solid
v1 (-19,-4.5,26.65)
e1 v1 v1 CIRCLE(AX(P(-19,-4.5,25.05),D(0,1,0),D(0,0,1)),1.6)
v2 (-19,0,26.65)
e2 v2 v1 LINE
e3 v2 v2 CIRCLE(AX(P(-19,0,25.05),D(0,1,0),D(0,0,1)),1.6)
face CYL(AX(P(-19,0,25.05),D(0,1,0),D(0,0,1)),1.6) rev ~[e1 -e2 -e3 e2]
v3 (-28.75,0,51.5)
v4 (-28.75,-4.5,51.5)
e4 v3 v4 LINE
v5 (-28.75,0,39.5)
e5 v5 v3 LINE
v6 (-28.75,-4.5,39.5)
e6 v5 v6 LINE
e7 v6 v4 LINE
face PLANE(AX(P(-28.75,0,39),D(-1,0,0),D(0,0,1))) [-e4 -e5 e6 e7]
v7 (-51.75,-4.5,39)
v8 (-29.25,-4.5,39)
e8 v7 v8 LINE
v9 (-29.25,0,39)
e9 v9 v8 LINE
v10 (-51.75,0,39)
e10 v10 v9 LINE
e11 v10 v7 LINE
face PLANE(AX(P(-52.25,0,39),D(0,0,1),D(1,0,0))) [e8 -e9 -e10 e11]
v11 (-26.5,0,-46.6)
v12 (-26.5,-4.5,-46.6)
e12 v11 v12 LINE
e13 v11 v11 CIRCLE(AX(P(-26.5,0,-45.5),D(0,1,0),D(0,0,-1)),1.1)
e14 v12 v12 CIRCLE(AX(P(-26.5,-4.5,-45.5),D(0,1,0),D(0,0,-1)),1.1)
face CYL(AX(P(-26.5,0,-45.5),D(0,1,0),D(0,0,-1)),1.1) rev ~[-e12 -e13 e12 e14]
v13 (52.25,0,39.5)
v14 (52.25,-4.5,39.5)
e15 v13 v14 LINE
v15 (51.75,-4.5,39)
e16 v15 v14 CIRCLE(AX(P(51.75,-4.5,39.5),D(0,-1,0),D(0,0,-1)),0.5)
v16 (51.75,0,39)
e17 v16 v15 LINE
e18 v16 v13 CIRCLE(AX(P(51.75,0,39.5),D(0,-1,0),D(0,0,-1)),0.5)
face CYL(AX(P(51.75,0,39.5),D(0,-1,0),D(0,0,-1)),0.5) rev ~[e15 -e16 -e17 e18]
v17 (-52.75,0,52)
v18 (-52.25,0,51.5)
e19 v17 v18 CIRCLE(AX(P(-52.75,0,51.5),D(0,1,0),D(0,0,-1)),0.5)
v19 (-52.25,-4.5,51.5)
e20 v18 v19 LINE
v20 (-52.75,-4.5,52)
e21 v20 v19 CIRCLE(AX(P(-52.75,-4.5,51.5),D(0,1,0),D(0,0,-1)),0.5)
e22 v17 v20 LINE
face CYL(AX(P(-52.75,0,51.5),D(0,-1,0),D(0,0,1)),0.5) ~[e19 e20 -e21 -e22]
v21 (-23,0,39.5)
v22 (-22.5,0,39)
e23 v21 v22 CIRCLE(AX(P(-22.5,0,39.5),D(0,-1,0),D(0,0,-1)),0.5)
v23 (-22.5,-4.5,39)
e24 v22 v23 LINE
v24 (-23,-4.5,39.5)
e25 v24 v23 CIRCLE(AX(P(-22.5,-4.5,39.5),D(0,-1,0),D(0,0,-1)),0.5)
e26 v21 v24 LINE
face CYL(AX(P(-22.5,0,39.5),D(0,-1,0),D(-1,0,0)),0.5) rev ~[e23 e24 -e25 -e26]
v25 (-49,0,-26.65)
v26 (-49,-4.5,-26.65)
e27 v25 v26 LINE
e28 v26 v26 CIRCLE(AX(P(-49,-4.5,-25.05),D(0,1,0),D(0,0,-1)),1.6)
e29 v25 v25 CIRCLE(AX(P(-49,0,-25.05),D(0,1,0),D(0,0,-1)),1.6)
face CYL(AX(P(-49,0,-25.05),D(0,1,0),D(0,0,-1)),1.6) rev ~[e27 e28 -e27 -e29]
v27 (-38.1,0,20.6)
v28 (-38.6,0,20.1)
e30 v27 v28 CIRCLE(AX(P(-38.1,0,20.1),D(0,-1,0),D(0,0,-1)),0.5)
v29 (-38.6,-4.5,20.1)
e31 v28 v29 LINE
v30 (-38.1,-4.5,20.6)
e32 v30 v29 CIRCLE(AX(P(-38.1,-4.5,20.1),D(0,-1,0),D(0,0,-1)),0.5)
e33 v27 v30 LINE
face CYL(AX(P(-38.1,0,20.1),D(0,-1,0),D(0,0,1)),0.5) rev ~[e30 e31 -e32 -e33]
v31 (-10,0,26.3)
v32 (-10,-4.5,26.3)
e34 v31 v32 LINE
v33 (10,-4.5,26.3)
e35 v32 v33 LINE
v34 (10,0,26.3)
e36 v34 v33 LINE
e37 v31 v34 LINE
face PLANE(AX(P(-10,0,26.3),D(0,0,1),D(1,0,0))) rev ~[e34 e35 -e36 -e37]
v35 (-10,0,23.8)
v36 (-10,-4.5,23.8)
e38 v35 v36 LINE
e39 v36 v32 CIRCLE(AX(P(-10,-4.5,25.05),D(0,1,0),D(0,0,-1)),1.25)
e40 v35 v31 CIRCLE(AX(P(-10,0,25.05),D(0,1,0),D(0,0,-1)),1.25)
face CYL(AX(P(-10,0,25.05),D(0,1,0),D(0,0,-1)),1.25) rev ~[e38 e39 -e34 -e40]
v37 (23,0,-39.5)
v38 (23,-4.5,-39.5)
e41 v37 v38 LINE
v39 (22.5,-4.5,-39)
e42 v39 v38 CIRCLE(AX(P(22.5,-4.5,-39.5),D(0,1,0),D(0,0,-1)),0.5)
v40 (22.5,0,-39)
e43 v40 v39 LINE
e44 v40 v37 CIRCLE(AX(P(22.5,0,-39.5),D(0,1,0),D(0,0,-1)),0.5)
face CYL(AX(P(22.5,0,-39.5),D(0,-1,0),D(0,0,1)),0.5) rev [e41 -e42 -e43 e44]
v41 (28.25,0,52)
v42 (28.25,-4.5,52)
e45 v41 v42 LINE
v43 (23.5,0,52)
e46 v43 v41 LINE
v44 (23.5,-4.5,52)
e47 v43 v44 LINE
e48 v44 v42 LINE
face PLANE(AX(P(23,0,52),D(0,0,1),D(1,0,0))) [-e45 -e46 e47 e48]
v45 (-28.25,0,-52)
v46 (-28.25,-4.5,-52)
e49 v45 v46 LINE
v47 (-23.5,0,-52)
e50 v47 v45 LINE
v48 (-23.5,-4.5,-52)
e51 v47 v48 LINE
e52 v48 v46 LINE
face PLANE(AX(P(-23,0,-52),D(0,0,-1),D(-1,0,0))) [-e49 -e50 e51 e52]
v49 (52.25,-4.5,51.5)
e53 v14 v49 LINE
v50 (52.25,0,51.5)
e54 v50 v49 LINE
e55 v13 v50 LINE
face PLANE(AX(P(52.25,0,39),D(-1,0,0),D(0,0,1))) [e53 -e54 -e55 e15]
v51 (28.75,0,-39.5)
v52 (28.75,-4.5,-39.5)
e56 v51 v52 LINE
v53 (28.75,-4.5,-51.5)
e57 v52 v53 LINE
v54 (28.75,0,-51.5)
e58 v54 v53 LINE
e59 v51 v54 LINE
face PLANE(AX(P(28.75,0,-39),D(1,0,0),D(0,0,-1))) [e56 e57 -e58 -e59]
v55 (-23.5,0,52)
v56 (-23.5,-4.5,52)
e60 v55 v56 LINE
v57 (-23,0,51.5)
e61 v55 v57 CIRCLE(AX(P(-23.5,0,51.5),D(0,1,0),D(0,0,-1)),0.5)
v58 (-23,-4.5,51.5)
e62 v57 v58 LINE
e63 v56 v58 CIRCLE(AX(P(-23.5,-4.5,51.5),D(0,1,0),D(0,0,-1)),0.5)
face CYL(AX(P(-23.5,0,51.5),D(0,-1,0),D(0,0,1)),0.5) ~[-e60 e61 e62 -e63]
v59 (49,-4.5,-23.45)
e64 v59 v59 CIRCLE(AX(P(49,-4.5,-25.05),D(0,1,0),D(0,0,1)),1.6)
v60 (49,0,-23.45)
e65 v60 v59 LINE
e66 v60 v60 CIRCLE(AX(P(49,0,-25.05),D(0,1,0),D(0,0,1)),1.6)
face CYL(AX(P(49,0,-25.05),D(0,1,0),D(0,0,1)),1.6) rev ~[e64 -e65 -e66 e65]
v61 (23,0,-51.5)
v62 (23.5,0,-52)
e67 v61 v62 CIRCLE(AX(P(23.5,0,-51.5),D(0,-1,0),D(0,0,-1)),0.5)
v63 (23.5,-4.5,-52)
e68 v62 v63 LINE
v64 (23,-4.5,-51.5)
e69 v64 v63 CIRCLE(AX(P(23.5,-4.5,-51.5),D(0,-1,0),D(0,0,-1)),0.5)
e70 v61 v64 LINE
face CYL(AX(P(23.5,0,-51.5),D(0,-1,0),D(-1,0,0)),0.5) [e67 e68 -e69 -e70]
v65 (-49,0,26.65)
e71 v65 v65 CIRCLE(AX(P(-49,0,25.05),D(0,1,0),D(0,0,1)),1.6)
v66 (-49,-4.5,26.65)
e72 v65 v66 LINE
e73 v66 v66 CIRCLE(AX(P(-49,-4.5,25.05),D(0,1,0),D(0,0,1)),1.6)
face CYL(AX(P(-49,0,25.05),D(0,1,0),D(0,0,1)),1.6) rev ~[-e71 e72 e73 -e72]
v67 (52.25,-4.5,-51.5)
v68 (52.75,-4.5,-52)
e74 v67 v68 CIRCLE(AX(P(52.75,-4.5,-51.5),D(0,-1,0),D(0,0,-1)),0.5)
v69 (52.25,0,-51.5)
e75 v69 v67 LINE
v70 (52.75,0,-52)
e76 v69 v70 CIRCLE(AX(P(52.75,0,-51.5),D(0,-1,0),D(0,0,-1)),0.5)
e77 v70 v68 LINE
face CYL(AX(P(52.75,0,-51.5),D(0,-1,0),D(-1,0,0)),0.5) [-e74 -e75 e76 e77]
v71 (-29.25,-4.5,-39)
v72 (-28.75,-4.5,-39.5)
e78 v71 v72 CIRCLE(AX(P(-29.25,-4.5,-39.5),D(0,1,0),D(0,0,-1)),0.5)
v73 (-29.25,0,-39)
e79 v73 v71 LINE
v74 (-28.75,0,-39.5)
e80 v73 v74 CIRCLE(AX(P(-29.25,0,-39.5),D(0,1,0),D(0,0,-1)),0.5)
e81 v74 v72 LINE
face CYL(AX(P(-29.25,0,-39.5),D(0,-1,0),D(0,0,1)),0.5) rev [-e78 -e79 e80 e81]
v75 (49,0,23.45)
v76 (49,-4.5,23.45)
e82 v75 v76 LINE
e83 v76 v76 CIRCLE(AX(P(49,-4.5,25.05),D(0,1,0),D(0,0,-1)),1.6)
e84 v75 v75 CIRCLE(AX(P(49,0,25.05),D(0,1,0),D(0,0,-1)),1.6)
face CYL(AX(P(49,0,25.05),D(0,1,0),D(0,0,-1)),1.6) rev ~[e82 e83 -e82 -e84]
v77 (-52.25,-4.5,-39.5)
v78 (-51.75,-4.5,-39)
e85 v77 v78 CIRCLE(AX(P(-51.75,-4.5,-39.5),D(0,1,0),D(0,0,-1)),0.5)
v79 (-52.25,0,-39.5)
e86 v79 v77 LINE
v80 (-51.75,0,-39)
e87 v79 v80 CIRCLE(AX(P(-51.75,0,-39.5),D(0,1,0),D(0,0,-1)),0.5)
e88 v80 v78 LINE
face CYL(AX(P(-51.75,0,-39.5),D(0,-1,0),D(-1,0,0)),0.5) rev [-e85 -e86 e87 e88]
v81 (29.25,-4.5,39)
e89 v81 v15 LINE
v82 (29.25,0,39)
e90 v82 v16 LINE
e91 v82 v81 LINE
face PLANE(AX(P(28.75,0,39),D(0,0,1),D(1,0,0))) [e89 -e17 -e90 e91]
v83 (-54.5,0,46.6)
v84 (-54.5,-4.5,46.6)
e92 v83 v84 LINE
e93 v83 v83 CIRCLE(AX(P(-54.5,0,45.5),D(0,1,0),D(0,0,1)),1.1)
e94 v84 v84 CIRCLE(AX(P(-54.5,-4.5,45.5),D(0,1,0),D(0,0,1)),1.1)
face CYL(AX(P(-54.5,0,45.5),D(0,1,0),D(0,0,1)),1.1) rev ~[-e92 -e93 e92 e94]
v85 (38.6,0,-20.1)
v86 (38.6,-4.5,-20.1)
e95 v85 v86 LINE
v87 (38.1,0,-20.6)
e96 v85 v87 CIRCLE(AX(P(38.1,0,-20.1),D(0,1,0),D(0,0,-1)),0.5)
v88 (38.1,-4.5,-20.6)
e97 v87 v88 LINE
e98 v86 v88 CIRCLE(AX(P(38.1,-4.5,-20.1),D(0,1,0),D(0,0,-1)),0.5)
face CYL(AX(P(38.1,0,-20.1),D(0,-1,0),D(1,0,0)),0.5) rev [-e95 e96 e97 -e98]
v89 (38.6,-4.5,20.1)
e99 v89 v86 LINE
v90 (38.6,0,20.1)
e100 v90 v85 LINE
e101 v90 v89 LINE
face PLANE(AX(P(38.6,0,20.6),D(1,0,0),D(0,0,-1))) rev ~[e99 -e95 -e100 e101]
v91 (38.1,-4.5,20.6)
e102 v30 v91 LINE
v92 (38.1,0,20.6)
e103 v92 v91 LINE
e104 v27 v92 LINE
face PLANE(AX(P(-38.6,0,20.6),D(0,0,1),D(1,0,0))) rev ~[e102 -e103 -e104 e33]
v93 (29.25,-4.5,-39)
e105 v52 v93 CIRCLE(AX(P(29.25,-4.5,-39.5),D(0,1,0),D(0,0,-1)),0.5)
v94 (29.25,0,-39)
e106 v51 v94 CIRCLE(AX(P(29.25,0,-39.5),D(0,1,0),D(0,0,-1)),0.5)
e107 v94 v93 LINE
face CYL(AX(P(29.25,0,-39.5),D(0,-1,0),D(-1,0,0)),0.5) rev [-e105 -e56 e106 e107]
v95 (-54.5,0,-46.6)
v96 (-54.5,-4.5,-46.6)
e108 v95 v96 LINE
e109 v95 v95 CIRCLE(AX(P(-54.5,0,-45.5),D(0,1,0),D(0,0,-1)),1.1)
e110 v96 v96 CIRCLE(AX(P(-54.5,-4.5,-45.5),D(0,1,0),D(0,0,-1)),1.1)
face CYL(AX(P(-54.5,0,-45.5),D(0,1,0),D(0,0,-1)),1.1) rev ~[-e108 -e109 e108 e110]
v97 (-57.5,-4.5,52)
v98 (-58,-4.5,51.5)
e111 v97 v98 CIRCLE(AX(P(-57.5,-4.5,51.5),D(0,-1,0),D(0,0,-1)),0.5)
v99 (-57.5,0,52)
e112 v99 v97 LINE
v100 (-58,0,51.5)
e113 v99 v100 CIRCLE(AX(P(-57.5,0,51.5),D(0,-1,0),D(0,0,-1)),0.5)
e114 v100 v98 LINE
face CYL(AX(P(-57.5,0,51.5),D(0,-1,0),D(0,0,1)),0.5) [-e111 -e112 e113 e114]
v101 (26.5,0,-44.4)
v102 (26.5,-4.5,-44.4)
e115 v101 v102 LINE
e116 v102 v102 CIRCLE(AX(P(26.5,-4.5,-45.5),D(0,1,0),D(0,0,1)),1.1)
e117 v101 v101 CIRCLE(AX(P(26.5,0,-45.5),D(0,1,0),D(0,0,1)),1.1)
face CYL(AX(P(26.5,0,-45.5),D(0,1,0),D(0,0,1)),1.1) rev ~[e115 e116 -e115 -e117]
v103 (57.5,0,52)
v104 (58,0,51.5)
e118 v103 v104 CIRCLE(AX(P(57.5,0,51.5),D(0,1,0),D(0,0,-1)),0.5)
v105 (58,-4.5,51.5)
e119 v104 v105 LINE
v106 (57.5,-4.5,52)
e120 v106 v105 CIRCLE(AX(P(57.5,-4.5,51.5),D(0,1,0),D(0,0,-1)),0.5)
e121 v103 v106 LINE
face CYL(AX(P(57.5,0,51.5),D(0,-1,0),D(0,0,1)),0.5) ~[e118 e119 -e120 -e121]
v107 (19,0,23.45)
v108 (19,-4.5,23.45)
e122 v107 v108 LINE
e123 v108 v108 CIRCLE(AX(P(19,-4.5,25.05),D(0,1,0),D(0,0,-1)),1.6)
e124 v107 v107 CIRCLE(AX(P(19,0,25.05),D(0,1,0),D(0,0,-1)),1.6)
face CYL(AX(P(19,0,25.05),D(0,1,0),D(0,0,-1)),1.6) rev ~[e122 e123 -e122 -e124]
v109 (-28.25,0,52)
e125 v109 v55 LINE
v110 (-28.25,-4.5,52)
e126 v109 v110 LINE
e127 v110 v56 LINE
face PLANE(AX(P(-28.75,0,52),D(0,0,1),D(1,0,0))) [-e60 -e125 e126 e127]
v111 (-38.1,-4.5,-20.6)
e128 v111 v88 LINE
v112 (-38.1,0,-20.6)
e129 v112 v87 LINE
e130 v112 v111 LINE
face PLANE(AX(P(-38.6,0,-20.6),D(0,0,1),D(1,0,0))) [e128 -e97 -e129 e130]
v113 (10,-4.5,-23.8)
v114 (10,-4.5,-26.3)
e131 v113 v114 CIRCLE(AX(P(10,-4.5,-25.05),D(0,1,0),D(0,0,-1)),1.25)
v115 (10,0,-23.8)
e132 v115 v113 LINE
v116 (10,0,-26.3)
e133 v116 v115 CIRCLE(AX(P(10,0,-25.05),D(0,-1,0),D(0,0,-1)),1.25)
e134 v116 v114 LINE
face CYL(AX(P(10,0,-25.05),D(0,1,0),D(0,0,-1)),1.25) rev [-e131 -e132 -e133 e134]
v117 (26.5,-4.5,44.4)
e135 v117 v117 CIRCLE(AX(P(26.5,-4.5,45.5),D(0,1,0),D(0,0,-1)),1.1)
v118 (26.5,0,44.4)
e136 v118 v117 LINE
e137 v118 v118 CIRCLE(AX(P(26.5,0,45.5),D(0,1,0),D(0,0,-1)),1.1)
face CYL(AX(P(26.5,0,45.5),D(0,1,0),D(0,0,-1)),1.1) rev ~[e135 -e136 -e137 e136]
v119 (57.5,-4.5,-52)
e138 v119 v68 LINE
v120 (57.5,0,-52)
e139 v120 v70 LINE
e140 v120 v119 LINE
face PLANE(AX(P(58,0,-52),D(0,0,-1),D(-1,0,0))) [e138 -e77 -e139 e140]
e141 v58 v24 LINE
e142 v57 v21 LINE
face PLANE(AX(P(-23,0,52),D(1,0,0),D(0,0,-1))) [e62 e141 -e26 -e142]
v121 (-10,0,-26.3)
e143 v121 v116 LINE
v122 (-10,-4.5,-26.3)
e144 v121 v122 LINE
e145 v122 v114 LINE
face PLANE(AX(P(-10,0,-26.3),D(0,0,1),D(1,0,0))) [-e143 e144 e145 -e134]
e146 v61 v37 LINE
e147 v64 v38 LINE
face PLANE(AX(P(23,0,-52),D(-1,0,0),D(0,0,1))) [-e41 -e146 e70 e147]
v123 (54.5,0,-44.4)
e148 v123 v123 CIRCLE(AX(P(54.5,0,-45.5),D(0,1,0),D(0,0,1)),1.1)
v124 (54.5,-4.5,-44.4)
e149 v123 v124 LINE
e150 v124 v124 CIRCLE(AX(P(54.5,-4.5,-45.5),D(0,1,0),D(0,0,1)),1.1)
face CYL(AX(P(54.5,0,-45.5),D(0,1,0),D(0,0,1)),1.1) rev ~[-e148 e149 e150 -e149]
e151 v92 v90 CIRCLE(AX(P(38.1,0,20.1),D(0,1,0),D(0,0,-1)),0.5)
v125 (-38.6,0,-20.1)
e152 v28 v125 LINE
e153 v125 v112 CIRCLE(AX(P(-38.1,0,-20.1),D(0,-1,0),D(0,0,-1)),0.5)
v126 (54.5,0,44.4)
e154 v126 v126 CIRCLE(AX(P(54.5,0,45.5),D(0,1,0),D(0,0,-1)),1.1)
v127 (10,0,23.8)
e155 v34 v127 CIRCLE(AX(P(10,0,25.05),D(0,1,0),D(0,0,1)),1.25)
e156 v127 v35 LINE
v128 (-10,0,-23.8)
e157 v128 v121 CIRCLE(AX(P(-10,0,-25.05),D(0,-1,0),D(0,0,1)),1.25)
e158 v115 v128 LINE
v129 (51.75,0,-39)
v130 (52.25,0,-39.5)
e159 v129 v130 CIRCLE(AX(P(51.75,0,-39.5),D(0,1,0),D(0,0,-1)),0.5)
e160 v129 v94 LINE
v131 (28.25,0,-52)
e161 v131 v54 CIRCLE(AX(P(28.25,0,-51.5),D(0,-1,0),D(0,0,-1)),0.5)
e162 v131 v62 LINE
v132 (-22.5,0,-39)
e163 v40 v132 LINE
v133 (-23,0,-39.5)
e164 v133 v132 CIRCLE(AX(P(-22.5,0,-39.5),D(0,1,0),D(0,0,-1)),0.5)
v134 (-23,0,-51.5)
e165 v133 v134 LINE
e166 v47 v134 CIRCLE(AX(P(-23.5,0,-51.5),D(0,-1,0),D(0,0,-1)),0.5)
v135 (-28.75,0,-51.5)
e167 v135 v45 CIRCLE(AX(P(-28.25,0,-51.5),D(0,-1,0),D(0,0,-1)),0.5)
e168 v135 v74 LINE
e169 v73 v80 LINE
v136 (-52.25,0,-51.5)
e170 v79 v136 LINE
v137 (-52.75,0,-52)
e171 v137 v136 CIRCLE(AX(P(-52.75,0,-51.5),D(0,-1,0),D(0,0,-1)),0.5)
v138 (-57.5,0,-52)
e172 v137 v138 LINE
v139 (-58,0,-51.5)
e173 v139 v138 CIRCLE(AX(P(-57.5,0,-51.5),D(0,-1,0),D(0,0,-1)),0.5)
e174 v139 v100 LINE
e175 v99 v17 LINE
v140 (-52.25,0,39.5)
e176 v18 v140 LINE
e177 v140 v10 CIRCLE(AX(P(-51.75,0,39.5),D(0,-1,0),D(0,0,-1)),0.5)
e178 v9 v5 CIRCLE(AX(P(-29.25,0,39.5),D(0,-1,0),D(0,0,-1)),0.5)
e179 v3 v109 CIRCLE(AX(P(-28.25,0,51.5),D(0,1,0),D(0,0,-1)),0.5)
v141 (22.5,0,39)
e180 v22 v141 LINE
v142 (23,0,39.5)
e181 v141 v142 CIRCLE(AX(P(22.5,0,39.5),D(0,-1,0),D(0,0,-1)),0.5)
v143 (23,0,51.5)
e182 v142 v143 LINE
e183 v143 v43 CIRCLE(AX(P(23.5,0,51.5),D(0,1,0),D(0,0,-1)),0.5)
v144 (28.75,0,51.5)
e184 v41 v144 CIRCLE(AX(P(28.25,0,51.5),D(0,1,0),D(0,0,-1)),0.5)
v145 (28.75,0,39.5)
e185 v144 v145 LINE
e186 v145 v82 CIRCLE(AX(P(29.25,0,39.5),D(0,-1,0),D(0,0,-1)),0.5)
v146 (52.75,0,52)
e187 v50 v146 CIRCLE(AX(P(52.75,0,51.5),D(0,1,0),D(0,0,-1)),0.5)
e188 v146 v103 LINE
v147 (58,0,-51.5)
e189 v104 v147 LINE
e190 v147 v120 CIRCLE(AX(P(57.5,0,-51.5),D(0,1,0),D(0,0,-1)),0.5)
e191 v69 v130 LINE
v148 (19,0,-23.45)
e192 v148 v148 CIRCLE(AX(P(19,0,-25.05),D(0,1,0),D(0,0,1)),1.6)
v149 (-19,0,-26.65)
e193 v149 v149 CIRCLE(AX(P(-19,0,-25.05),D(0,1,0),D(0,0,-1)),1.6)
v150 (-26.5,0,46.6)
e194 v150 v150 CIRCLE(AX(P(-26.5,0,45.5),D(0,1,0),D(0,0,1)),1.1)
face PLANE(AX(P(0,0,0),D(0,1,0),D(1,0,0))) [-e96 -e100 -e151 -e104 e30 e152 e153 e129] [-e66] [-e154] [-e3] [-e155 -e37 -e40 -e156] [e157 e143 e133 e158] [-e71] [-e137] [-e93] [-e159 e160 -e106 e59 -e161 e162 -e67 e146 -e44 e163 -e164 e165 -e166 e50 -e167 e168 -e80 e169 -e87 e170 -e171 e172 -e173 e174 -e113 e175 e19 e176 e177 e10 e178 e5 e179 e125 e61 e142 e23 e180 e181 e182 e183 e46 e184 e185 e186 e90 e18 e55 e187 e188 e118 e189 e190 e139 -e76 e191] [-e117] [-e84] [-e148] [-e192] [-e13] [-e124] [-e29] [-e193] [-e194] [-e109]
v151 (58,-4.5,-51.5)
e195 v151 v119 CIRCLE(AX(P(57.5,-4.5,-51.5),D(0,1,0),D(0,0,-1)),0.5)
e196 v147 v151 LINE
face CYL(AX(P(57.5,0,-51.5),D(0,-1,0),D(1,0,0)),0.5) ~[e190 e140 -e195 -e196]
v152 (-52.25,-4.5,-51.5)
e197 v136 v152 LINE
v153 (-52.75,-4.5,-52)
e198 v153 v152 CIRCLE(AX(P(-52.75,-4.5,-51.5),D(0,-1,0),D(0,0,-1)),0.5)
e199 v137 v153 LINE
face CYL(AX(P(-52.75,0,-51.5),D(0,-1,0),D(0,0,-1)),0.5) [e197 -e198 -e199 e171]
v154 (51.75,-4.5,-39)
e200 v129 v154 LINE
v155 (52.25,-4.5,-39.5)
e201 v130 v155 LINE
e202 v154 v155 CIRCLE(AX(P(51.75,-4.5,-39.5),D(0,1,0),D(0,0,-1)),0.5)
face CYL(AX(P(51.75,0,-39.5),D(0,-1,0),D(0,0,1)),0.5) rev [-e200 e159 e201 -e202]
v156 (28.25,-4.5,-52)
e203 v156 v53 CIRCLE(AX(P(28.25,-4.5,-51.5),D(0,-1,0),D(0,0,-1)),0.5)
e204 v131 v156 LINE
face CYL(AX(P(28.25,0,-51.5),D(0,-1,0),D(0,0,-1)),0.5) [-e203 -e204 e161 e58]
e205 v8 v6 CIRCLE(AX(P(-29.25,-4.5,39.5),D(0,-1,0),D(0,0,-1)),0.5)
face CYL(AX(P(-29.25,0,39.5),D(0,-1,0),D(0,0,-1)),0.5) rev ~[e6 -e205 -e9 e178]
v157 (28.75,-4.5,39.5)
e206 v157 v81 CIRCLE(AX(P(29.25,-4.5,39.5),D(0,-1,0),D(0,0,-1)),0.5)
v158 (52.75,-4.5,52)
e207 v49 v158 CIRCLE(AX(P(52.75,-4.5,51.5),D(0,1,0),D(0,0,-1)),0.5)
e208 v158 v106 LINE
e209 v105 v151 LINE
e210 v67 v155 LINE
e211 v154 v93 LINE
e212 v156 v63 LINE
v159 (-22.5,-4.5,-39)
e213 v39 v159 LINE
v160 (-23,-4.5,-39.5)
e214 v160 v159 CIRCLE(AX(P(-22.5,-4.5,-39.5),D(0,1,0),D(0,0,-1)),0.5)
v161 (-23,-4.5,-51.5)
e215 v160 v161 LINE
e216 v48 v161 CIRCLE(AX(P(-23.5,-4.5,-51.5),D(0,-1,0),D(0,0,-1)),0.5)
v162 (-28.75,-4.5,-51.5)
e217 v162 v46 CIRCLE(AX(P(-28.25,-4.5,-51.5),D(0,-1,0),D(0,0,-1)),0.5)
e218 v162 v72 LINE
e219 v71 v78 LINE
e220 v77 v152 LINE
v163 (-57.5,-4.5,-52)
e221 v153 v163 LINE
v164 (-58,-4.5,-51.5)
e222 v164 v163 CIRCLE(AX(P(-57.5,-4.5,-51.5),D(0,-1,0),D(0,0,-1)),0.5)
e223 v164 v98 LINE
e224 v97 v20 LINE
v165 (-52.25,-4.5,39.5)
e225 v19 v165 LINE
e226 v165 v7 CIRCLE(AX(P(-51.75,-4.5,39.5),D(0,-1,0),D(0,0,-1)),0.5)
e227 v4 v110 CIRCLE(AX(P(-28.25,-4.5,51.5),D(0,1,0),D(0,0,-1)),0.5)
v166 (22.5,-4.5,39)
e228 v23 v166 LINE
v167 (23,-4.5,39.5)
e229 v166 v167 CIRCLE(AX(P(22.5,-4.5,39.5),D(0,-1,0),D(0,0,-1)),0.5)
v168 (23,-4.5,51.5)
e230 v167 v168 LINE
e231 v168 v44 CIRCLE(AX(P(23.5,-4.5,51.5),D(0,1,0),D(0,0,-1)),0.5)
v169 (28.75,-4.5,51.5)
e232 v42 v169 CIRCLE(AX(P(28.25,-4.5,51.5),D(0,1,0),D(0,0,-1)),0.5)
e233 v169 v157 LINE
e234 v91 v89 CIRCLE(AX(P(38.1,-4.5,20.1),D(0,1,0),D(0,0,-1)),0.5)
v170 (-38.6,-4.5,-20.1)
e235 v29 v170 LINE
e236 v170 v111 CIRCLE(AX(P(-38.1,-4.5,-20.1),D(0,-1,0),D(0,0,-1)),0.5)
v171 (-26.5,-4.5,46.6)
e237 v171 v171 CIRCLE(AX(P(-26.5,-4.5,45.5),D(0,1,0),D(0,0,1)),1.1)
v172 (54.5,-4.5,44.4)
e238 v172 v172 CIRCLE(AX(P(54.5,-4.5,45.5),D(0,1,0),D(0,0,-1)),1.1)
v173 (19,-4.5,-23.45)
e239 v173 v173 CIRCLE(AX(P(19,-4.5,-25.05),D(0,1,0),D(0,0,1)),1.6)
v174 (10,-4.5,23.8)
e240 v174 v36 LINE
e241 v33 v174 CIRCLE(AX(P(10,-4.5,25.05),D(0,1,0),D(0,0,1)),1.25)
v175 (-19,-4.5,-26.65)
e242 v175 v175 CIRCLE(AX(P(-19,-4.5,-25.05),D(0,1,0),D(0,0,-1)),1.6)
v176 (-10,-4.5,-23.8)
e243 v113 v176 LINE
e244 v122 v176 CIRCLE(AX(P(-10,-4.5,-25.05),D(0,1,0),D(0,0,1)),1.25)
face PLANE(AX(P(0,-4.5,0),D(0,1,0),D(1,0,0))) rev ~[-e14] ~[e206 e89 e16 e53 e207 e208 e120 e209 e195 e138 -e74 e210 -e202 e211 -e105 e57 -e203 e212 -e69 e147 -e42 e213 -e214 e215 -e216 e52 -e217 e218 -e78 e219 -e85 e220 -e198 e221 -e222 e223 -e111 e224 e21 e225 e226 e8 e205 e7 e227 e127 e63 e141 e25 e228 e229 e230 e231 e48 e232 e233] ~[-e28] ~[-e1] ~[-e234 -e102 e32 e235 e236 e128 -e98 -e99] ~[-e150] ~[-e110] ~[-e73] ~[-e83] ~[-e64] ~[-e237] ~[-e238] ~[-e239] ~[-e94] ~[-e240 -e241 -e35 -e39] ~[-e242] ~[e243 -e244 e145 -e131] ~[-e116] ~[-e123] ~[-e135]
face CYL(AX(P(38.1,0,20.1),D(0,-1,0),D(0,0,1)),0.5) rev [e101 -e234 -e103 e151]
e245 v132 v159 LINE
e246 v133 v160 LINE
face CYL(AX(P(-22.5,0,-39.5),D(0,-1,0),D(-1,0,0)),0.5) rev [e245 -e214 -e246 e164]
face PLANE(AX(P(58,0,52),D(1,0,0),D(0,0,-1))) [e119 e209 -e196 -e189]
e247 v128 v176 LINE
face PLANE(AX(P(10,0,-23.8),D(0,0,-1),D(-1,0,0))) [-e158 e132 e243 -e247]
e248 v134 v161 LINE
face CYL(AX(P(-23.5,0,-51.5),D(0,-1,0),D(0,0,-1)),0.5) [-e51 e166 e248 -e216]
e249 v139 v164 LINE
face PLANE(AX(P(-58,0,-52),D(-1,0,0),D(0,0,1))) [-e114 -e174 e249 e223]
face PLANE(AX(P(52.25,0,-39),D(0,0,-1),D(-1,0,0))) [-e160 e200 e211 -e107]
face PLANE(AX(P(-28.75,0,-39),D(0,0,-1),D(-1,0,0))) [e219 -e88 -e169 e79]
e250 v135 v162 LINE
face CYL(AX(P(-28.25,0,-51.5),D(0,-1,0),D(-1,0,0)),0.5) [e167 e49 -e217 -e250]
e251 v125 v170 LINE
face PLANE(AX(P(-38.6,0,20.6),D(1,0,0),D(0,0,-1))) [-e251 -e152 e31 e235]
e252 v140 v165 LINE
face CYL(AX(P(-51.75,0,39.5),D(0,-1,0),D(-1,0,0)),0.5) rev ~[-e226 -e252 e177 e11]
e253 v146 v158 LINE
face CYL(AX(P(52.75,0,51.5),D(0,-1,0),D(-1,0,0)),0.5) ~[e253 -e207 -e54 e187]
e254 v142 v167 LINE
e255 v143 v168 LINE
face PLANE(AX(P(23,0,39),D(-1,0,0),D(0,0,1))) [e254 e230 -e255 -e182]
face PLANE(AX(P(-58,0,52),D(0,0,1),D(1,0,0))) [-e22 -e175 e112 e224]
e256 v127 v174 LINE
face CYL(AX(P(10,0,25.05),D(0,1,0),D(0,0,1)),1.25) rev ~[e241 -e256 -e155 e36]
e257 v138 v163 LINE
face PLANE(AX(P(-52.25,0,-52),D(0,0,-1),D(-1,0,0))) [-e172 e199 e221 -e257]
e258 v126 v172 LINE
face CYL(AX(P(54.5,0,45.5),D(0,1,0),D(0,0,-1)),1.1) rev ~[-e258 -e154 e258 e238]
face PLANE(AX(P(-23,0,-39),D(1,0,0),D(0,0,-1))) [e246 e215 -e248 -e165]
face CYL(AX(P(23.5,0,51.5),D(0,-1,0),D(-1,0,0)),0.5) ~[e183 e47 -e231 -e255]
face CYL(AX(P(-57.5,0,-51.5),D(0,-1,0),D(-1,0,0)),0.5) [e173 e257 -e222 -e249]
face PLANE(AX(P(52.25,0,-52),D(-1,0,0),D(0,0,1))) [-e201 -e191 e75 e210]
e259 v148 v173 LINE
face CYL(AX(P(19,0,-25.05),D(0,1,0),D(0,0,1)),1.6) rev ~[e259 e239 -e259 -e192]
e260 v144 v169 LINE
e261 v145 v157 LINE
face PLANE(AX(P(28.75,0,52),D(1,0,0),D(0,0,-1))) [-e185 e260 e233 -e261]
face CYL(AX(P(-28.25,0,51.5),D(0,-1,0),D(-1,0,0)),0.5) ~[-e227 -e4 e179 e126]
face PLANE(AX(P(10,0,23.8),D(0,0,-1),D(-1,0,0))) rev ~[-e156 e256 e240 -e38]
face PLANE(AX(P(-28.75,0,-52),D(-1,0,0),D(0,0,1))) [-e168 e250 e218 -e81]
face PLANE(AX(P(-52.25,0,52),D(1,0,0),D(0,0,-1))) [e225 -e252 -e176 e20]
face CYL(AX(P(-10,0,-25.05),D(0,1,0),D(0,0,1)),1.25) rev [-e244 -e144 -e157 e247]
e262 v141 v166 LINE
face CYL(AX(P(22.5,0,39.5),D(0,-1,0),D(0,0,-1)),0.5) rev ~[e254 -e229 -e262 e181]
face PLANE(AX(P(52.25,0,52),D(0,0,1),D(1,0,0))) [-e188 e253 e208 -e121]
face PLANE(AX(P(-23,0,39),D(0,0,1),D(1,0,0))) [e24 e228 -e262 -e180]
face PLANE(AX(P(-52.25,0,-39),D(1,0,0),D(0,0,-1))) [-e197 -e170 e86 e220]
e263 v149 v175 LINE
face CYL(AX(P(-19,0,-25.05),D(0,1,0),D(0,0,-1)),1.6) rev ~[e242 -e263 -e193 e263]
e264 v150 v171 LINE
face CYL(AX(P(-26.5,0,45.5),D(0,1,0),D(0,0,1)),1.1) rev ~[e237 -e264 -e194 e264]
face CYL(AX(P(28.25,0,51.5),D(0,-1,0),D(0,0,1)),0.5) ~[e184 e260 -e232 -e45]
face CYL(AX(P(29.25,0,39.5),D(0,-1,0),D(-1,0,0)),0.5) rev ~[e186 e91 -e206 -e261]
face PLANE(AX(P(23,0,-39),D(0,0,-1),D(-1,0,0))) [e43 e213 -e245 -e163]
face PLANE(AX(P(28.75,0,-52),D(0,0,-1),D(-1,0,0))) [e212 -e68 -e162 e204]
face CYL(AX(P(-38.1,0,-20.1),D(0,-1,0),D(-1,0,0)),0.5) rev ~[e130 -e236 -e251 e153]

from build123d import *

# Parameters (mm, degrees)
EXTRUDE_1_DEPTH     = 4.5
SKETCH_10_W         = 77.2
SKETCH_10_H         = 41.2
CUT_EXTRUDE_5_DEPTH = 79.027238834
SKETCH_16_R         = 1.6
CUT_EXTRUDE_6_DEPTH = 10
SKETCH_17_R         = 1.1
CUT_EXTRUDE_7_DEPTH = 10
FILLET_1_R          = 0.5


with BuildPart() as part:
    # 草图1 → 凸台-拉伸1 (new body)
    with BuildSketch(Plane(origin=(0, 0, 0), x_dir=(1, 0, 0), z_dir=(0, 1, 0))):
        Polygon((-58, -39), (-58, -52), (-52.25, -52), (-52.25, -39), (-28.75, -39), (-28.75, -52), (-23, -52), (-23, -39), (23, -39), (23, -52), (28.75, -52), (28.75, -39), (52.25, -39), (52.25, -52), (58, -52), (58, -39), (58, 39), (58, 52), (52.25, 52), (52.25, 39), (28.75, 39), (28.75, 52), (23, 52), (23, 39), (-23, 39), (-23, 52), (-28.75, 52), (-28.75, 39), (-52.25, 39), (-52.25, 52), (-58, 52), (-58, 39), align=None)
    extrude(amount=-EXTRUDE_1_DEPTH)

    # 草图10 → 切除-拉伸5 (cut, through all)
    with BuildSketch(Plane(origin=(0, 0, 0), x_dir=(1, 0, 0), z_dir=(0, 1, 0))):
        Rectangle(SKETCH_10_W, SKETCH_10_H)
    extrude(amount=-CUT_EXTRUDE_5_DEPTH, mode=Mode.SUBTRACT)

    # 草图16 → 切除-拉伸6 (cut)
    with BuildSketch(Plane(origin=(0, 0, 0), x_dir=(1, 0, 0), z_dir=(0, 1, 0))):
        with Locations(Location((19, 25.05, 0), (0, 0, 270))):
            Circle(SKETCH_16_R)
        with Locations(Location((49, 25.05, 0), (0, 0, 270))):
            Circle(SKETCH_16_R)
        with Locations(Location((-49, 25.05, 0), (0, 0, 90))):
            Circle(SKETCH_16_R)
        with Locations(Location((-19, 25.05, 0), (0, 0, 90))):
            Circle(SKETCH_16_R)
        with Locations(Location((49, -25.05, 0), (0, 0, 90))):
            Circle(SKETCH_16_R)
        with Locations(Location((19, -25.05, 0), (0, 0, 90))):
            Circle(SKETCH_16_R)
        with Locations(Location((-19, -25.05, 0), (0, 0, 270))):
            Circle(SKETCH_16_R)
        with Locations(Location((-49, -25.05, 0), (0, 0, 270))):
            Circle(SKETCH_16_R)
        with BuildLine():
            Line((-10, 26.3), (10, 26.3))
            ThreePointArc((10, 26.3), (11.25, 25.05), (10, 23.8))
            Line((10, 23.8), (-10, 23.8))
            ThreePointArc((-10, 23.8), (-11.25, 25.05), (-10, 26.3))
        make_face()
        with BuildLine():
            Line((-10, -26.3), (10, -26.3))
            ThreePointArc((10, -26.3), (11.25, -25.05), (10, -23.8))
            Line((10, -23.8), (-10, -23.8))
            ThreePointArc((-10, -23.8), (-11.25, -25.05), (-10, -26.3))
        make_face()
    extrude(amount=-CUT_EXTRUDE_6_DEPTH, mode=Mode.SUBTRACT)

    # 草图17 → 切除-拉伸7 (cut)
    with BuildSketch(Plane(origin=(0, 0, 0), x_dir=(1, 0, 0), z_dir=(0, 1, 0))):
        with Locations(Location((-54.5, -45.5, 0), (0, 0, 270))):
            Circle(SKETCH_17_R)
        with Locations(Location((-26.5, -45.5, 0), (0, 0, 270))):
            Circle(SKETCH_17_R)
        with Locations(Location((26.5, -45.5, 0), (0, 0, 90))):
            Circle(SKETCH_17_R)
        with Locations(Location((54.5, -45.5, 0), (0, 0, 90))):
            Circle(SKETCH_17_R)
        with Locations(Location((54.5, 45.5, 0), (0, 0, 270))):
            Circle(SKETCH_17_R)
        with Locations(Location((-26.5, 45.5, 0), (0, 0, 90))):
            Circle(SKETCH_17_R)
        with Locations(Location((-54.5, 45.5, 0), (0, 0, 90))):
            Circle(SKETCH_17_R)
        with Locations(Location((26.5, 45.5, 0), (0, 0, 270))):
            Circle(SKETCH_17_R)
    extrude(amount=-CUT_EXTRUDE_7_DEPTH, mode=Mode.SUBTRACT)

    # 圆角1
    fillet_1_edges = [part.edges().sort_by_distance(p)[0] for p in [
        (58, -2.25, 52),
        (52.25, -2.25, 52),
        (52.25, -2.25, 39),
        (28.75, -2.25, 39),
        (28.75, -2.25, 52),
        (23, -2.25, 52),
        (23, -2.25, 39),
        (-23, -2.25, 39),
        (-23, -2.25, 52),
        (-28.75, -2.25, 52),
        (-28.75, -2.25, 39),
        (-52.25, -2.25, 39),
        (-52.25, -2.25, 52),
        (-58, -2.25, 52),
        (-58, -2.25, -52),
        (-52.25, -2.25, -52),
        (-52.25, -2.25, -39),
        (-28.75, -2.25, -39),
        (-28.75, -2.25, -52),
        (-23, -2.25, -52),
        (-23, -2.25, -39),
        (23, -2.25, -39),
        (23, -2.25, -52),
        (28.75, -2.25, -52),
        (28.75, -2.25, -39),
        (52.25, -2.25, -39),
        (52.25, -2.25, -52),
        (58, -2.25, -52),
        (-38.6, -2.25, 20.6),
        (-38.6, -2.25, -20.6),
        (38.6, -2.25, -20.6),
        (38.6, -2.25, 20.6),
    ]]
    fillet(fillet_1_edges, radius=FILLET_1_R)


solid = part.part
